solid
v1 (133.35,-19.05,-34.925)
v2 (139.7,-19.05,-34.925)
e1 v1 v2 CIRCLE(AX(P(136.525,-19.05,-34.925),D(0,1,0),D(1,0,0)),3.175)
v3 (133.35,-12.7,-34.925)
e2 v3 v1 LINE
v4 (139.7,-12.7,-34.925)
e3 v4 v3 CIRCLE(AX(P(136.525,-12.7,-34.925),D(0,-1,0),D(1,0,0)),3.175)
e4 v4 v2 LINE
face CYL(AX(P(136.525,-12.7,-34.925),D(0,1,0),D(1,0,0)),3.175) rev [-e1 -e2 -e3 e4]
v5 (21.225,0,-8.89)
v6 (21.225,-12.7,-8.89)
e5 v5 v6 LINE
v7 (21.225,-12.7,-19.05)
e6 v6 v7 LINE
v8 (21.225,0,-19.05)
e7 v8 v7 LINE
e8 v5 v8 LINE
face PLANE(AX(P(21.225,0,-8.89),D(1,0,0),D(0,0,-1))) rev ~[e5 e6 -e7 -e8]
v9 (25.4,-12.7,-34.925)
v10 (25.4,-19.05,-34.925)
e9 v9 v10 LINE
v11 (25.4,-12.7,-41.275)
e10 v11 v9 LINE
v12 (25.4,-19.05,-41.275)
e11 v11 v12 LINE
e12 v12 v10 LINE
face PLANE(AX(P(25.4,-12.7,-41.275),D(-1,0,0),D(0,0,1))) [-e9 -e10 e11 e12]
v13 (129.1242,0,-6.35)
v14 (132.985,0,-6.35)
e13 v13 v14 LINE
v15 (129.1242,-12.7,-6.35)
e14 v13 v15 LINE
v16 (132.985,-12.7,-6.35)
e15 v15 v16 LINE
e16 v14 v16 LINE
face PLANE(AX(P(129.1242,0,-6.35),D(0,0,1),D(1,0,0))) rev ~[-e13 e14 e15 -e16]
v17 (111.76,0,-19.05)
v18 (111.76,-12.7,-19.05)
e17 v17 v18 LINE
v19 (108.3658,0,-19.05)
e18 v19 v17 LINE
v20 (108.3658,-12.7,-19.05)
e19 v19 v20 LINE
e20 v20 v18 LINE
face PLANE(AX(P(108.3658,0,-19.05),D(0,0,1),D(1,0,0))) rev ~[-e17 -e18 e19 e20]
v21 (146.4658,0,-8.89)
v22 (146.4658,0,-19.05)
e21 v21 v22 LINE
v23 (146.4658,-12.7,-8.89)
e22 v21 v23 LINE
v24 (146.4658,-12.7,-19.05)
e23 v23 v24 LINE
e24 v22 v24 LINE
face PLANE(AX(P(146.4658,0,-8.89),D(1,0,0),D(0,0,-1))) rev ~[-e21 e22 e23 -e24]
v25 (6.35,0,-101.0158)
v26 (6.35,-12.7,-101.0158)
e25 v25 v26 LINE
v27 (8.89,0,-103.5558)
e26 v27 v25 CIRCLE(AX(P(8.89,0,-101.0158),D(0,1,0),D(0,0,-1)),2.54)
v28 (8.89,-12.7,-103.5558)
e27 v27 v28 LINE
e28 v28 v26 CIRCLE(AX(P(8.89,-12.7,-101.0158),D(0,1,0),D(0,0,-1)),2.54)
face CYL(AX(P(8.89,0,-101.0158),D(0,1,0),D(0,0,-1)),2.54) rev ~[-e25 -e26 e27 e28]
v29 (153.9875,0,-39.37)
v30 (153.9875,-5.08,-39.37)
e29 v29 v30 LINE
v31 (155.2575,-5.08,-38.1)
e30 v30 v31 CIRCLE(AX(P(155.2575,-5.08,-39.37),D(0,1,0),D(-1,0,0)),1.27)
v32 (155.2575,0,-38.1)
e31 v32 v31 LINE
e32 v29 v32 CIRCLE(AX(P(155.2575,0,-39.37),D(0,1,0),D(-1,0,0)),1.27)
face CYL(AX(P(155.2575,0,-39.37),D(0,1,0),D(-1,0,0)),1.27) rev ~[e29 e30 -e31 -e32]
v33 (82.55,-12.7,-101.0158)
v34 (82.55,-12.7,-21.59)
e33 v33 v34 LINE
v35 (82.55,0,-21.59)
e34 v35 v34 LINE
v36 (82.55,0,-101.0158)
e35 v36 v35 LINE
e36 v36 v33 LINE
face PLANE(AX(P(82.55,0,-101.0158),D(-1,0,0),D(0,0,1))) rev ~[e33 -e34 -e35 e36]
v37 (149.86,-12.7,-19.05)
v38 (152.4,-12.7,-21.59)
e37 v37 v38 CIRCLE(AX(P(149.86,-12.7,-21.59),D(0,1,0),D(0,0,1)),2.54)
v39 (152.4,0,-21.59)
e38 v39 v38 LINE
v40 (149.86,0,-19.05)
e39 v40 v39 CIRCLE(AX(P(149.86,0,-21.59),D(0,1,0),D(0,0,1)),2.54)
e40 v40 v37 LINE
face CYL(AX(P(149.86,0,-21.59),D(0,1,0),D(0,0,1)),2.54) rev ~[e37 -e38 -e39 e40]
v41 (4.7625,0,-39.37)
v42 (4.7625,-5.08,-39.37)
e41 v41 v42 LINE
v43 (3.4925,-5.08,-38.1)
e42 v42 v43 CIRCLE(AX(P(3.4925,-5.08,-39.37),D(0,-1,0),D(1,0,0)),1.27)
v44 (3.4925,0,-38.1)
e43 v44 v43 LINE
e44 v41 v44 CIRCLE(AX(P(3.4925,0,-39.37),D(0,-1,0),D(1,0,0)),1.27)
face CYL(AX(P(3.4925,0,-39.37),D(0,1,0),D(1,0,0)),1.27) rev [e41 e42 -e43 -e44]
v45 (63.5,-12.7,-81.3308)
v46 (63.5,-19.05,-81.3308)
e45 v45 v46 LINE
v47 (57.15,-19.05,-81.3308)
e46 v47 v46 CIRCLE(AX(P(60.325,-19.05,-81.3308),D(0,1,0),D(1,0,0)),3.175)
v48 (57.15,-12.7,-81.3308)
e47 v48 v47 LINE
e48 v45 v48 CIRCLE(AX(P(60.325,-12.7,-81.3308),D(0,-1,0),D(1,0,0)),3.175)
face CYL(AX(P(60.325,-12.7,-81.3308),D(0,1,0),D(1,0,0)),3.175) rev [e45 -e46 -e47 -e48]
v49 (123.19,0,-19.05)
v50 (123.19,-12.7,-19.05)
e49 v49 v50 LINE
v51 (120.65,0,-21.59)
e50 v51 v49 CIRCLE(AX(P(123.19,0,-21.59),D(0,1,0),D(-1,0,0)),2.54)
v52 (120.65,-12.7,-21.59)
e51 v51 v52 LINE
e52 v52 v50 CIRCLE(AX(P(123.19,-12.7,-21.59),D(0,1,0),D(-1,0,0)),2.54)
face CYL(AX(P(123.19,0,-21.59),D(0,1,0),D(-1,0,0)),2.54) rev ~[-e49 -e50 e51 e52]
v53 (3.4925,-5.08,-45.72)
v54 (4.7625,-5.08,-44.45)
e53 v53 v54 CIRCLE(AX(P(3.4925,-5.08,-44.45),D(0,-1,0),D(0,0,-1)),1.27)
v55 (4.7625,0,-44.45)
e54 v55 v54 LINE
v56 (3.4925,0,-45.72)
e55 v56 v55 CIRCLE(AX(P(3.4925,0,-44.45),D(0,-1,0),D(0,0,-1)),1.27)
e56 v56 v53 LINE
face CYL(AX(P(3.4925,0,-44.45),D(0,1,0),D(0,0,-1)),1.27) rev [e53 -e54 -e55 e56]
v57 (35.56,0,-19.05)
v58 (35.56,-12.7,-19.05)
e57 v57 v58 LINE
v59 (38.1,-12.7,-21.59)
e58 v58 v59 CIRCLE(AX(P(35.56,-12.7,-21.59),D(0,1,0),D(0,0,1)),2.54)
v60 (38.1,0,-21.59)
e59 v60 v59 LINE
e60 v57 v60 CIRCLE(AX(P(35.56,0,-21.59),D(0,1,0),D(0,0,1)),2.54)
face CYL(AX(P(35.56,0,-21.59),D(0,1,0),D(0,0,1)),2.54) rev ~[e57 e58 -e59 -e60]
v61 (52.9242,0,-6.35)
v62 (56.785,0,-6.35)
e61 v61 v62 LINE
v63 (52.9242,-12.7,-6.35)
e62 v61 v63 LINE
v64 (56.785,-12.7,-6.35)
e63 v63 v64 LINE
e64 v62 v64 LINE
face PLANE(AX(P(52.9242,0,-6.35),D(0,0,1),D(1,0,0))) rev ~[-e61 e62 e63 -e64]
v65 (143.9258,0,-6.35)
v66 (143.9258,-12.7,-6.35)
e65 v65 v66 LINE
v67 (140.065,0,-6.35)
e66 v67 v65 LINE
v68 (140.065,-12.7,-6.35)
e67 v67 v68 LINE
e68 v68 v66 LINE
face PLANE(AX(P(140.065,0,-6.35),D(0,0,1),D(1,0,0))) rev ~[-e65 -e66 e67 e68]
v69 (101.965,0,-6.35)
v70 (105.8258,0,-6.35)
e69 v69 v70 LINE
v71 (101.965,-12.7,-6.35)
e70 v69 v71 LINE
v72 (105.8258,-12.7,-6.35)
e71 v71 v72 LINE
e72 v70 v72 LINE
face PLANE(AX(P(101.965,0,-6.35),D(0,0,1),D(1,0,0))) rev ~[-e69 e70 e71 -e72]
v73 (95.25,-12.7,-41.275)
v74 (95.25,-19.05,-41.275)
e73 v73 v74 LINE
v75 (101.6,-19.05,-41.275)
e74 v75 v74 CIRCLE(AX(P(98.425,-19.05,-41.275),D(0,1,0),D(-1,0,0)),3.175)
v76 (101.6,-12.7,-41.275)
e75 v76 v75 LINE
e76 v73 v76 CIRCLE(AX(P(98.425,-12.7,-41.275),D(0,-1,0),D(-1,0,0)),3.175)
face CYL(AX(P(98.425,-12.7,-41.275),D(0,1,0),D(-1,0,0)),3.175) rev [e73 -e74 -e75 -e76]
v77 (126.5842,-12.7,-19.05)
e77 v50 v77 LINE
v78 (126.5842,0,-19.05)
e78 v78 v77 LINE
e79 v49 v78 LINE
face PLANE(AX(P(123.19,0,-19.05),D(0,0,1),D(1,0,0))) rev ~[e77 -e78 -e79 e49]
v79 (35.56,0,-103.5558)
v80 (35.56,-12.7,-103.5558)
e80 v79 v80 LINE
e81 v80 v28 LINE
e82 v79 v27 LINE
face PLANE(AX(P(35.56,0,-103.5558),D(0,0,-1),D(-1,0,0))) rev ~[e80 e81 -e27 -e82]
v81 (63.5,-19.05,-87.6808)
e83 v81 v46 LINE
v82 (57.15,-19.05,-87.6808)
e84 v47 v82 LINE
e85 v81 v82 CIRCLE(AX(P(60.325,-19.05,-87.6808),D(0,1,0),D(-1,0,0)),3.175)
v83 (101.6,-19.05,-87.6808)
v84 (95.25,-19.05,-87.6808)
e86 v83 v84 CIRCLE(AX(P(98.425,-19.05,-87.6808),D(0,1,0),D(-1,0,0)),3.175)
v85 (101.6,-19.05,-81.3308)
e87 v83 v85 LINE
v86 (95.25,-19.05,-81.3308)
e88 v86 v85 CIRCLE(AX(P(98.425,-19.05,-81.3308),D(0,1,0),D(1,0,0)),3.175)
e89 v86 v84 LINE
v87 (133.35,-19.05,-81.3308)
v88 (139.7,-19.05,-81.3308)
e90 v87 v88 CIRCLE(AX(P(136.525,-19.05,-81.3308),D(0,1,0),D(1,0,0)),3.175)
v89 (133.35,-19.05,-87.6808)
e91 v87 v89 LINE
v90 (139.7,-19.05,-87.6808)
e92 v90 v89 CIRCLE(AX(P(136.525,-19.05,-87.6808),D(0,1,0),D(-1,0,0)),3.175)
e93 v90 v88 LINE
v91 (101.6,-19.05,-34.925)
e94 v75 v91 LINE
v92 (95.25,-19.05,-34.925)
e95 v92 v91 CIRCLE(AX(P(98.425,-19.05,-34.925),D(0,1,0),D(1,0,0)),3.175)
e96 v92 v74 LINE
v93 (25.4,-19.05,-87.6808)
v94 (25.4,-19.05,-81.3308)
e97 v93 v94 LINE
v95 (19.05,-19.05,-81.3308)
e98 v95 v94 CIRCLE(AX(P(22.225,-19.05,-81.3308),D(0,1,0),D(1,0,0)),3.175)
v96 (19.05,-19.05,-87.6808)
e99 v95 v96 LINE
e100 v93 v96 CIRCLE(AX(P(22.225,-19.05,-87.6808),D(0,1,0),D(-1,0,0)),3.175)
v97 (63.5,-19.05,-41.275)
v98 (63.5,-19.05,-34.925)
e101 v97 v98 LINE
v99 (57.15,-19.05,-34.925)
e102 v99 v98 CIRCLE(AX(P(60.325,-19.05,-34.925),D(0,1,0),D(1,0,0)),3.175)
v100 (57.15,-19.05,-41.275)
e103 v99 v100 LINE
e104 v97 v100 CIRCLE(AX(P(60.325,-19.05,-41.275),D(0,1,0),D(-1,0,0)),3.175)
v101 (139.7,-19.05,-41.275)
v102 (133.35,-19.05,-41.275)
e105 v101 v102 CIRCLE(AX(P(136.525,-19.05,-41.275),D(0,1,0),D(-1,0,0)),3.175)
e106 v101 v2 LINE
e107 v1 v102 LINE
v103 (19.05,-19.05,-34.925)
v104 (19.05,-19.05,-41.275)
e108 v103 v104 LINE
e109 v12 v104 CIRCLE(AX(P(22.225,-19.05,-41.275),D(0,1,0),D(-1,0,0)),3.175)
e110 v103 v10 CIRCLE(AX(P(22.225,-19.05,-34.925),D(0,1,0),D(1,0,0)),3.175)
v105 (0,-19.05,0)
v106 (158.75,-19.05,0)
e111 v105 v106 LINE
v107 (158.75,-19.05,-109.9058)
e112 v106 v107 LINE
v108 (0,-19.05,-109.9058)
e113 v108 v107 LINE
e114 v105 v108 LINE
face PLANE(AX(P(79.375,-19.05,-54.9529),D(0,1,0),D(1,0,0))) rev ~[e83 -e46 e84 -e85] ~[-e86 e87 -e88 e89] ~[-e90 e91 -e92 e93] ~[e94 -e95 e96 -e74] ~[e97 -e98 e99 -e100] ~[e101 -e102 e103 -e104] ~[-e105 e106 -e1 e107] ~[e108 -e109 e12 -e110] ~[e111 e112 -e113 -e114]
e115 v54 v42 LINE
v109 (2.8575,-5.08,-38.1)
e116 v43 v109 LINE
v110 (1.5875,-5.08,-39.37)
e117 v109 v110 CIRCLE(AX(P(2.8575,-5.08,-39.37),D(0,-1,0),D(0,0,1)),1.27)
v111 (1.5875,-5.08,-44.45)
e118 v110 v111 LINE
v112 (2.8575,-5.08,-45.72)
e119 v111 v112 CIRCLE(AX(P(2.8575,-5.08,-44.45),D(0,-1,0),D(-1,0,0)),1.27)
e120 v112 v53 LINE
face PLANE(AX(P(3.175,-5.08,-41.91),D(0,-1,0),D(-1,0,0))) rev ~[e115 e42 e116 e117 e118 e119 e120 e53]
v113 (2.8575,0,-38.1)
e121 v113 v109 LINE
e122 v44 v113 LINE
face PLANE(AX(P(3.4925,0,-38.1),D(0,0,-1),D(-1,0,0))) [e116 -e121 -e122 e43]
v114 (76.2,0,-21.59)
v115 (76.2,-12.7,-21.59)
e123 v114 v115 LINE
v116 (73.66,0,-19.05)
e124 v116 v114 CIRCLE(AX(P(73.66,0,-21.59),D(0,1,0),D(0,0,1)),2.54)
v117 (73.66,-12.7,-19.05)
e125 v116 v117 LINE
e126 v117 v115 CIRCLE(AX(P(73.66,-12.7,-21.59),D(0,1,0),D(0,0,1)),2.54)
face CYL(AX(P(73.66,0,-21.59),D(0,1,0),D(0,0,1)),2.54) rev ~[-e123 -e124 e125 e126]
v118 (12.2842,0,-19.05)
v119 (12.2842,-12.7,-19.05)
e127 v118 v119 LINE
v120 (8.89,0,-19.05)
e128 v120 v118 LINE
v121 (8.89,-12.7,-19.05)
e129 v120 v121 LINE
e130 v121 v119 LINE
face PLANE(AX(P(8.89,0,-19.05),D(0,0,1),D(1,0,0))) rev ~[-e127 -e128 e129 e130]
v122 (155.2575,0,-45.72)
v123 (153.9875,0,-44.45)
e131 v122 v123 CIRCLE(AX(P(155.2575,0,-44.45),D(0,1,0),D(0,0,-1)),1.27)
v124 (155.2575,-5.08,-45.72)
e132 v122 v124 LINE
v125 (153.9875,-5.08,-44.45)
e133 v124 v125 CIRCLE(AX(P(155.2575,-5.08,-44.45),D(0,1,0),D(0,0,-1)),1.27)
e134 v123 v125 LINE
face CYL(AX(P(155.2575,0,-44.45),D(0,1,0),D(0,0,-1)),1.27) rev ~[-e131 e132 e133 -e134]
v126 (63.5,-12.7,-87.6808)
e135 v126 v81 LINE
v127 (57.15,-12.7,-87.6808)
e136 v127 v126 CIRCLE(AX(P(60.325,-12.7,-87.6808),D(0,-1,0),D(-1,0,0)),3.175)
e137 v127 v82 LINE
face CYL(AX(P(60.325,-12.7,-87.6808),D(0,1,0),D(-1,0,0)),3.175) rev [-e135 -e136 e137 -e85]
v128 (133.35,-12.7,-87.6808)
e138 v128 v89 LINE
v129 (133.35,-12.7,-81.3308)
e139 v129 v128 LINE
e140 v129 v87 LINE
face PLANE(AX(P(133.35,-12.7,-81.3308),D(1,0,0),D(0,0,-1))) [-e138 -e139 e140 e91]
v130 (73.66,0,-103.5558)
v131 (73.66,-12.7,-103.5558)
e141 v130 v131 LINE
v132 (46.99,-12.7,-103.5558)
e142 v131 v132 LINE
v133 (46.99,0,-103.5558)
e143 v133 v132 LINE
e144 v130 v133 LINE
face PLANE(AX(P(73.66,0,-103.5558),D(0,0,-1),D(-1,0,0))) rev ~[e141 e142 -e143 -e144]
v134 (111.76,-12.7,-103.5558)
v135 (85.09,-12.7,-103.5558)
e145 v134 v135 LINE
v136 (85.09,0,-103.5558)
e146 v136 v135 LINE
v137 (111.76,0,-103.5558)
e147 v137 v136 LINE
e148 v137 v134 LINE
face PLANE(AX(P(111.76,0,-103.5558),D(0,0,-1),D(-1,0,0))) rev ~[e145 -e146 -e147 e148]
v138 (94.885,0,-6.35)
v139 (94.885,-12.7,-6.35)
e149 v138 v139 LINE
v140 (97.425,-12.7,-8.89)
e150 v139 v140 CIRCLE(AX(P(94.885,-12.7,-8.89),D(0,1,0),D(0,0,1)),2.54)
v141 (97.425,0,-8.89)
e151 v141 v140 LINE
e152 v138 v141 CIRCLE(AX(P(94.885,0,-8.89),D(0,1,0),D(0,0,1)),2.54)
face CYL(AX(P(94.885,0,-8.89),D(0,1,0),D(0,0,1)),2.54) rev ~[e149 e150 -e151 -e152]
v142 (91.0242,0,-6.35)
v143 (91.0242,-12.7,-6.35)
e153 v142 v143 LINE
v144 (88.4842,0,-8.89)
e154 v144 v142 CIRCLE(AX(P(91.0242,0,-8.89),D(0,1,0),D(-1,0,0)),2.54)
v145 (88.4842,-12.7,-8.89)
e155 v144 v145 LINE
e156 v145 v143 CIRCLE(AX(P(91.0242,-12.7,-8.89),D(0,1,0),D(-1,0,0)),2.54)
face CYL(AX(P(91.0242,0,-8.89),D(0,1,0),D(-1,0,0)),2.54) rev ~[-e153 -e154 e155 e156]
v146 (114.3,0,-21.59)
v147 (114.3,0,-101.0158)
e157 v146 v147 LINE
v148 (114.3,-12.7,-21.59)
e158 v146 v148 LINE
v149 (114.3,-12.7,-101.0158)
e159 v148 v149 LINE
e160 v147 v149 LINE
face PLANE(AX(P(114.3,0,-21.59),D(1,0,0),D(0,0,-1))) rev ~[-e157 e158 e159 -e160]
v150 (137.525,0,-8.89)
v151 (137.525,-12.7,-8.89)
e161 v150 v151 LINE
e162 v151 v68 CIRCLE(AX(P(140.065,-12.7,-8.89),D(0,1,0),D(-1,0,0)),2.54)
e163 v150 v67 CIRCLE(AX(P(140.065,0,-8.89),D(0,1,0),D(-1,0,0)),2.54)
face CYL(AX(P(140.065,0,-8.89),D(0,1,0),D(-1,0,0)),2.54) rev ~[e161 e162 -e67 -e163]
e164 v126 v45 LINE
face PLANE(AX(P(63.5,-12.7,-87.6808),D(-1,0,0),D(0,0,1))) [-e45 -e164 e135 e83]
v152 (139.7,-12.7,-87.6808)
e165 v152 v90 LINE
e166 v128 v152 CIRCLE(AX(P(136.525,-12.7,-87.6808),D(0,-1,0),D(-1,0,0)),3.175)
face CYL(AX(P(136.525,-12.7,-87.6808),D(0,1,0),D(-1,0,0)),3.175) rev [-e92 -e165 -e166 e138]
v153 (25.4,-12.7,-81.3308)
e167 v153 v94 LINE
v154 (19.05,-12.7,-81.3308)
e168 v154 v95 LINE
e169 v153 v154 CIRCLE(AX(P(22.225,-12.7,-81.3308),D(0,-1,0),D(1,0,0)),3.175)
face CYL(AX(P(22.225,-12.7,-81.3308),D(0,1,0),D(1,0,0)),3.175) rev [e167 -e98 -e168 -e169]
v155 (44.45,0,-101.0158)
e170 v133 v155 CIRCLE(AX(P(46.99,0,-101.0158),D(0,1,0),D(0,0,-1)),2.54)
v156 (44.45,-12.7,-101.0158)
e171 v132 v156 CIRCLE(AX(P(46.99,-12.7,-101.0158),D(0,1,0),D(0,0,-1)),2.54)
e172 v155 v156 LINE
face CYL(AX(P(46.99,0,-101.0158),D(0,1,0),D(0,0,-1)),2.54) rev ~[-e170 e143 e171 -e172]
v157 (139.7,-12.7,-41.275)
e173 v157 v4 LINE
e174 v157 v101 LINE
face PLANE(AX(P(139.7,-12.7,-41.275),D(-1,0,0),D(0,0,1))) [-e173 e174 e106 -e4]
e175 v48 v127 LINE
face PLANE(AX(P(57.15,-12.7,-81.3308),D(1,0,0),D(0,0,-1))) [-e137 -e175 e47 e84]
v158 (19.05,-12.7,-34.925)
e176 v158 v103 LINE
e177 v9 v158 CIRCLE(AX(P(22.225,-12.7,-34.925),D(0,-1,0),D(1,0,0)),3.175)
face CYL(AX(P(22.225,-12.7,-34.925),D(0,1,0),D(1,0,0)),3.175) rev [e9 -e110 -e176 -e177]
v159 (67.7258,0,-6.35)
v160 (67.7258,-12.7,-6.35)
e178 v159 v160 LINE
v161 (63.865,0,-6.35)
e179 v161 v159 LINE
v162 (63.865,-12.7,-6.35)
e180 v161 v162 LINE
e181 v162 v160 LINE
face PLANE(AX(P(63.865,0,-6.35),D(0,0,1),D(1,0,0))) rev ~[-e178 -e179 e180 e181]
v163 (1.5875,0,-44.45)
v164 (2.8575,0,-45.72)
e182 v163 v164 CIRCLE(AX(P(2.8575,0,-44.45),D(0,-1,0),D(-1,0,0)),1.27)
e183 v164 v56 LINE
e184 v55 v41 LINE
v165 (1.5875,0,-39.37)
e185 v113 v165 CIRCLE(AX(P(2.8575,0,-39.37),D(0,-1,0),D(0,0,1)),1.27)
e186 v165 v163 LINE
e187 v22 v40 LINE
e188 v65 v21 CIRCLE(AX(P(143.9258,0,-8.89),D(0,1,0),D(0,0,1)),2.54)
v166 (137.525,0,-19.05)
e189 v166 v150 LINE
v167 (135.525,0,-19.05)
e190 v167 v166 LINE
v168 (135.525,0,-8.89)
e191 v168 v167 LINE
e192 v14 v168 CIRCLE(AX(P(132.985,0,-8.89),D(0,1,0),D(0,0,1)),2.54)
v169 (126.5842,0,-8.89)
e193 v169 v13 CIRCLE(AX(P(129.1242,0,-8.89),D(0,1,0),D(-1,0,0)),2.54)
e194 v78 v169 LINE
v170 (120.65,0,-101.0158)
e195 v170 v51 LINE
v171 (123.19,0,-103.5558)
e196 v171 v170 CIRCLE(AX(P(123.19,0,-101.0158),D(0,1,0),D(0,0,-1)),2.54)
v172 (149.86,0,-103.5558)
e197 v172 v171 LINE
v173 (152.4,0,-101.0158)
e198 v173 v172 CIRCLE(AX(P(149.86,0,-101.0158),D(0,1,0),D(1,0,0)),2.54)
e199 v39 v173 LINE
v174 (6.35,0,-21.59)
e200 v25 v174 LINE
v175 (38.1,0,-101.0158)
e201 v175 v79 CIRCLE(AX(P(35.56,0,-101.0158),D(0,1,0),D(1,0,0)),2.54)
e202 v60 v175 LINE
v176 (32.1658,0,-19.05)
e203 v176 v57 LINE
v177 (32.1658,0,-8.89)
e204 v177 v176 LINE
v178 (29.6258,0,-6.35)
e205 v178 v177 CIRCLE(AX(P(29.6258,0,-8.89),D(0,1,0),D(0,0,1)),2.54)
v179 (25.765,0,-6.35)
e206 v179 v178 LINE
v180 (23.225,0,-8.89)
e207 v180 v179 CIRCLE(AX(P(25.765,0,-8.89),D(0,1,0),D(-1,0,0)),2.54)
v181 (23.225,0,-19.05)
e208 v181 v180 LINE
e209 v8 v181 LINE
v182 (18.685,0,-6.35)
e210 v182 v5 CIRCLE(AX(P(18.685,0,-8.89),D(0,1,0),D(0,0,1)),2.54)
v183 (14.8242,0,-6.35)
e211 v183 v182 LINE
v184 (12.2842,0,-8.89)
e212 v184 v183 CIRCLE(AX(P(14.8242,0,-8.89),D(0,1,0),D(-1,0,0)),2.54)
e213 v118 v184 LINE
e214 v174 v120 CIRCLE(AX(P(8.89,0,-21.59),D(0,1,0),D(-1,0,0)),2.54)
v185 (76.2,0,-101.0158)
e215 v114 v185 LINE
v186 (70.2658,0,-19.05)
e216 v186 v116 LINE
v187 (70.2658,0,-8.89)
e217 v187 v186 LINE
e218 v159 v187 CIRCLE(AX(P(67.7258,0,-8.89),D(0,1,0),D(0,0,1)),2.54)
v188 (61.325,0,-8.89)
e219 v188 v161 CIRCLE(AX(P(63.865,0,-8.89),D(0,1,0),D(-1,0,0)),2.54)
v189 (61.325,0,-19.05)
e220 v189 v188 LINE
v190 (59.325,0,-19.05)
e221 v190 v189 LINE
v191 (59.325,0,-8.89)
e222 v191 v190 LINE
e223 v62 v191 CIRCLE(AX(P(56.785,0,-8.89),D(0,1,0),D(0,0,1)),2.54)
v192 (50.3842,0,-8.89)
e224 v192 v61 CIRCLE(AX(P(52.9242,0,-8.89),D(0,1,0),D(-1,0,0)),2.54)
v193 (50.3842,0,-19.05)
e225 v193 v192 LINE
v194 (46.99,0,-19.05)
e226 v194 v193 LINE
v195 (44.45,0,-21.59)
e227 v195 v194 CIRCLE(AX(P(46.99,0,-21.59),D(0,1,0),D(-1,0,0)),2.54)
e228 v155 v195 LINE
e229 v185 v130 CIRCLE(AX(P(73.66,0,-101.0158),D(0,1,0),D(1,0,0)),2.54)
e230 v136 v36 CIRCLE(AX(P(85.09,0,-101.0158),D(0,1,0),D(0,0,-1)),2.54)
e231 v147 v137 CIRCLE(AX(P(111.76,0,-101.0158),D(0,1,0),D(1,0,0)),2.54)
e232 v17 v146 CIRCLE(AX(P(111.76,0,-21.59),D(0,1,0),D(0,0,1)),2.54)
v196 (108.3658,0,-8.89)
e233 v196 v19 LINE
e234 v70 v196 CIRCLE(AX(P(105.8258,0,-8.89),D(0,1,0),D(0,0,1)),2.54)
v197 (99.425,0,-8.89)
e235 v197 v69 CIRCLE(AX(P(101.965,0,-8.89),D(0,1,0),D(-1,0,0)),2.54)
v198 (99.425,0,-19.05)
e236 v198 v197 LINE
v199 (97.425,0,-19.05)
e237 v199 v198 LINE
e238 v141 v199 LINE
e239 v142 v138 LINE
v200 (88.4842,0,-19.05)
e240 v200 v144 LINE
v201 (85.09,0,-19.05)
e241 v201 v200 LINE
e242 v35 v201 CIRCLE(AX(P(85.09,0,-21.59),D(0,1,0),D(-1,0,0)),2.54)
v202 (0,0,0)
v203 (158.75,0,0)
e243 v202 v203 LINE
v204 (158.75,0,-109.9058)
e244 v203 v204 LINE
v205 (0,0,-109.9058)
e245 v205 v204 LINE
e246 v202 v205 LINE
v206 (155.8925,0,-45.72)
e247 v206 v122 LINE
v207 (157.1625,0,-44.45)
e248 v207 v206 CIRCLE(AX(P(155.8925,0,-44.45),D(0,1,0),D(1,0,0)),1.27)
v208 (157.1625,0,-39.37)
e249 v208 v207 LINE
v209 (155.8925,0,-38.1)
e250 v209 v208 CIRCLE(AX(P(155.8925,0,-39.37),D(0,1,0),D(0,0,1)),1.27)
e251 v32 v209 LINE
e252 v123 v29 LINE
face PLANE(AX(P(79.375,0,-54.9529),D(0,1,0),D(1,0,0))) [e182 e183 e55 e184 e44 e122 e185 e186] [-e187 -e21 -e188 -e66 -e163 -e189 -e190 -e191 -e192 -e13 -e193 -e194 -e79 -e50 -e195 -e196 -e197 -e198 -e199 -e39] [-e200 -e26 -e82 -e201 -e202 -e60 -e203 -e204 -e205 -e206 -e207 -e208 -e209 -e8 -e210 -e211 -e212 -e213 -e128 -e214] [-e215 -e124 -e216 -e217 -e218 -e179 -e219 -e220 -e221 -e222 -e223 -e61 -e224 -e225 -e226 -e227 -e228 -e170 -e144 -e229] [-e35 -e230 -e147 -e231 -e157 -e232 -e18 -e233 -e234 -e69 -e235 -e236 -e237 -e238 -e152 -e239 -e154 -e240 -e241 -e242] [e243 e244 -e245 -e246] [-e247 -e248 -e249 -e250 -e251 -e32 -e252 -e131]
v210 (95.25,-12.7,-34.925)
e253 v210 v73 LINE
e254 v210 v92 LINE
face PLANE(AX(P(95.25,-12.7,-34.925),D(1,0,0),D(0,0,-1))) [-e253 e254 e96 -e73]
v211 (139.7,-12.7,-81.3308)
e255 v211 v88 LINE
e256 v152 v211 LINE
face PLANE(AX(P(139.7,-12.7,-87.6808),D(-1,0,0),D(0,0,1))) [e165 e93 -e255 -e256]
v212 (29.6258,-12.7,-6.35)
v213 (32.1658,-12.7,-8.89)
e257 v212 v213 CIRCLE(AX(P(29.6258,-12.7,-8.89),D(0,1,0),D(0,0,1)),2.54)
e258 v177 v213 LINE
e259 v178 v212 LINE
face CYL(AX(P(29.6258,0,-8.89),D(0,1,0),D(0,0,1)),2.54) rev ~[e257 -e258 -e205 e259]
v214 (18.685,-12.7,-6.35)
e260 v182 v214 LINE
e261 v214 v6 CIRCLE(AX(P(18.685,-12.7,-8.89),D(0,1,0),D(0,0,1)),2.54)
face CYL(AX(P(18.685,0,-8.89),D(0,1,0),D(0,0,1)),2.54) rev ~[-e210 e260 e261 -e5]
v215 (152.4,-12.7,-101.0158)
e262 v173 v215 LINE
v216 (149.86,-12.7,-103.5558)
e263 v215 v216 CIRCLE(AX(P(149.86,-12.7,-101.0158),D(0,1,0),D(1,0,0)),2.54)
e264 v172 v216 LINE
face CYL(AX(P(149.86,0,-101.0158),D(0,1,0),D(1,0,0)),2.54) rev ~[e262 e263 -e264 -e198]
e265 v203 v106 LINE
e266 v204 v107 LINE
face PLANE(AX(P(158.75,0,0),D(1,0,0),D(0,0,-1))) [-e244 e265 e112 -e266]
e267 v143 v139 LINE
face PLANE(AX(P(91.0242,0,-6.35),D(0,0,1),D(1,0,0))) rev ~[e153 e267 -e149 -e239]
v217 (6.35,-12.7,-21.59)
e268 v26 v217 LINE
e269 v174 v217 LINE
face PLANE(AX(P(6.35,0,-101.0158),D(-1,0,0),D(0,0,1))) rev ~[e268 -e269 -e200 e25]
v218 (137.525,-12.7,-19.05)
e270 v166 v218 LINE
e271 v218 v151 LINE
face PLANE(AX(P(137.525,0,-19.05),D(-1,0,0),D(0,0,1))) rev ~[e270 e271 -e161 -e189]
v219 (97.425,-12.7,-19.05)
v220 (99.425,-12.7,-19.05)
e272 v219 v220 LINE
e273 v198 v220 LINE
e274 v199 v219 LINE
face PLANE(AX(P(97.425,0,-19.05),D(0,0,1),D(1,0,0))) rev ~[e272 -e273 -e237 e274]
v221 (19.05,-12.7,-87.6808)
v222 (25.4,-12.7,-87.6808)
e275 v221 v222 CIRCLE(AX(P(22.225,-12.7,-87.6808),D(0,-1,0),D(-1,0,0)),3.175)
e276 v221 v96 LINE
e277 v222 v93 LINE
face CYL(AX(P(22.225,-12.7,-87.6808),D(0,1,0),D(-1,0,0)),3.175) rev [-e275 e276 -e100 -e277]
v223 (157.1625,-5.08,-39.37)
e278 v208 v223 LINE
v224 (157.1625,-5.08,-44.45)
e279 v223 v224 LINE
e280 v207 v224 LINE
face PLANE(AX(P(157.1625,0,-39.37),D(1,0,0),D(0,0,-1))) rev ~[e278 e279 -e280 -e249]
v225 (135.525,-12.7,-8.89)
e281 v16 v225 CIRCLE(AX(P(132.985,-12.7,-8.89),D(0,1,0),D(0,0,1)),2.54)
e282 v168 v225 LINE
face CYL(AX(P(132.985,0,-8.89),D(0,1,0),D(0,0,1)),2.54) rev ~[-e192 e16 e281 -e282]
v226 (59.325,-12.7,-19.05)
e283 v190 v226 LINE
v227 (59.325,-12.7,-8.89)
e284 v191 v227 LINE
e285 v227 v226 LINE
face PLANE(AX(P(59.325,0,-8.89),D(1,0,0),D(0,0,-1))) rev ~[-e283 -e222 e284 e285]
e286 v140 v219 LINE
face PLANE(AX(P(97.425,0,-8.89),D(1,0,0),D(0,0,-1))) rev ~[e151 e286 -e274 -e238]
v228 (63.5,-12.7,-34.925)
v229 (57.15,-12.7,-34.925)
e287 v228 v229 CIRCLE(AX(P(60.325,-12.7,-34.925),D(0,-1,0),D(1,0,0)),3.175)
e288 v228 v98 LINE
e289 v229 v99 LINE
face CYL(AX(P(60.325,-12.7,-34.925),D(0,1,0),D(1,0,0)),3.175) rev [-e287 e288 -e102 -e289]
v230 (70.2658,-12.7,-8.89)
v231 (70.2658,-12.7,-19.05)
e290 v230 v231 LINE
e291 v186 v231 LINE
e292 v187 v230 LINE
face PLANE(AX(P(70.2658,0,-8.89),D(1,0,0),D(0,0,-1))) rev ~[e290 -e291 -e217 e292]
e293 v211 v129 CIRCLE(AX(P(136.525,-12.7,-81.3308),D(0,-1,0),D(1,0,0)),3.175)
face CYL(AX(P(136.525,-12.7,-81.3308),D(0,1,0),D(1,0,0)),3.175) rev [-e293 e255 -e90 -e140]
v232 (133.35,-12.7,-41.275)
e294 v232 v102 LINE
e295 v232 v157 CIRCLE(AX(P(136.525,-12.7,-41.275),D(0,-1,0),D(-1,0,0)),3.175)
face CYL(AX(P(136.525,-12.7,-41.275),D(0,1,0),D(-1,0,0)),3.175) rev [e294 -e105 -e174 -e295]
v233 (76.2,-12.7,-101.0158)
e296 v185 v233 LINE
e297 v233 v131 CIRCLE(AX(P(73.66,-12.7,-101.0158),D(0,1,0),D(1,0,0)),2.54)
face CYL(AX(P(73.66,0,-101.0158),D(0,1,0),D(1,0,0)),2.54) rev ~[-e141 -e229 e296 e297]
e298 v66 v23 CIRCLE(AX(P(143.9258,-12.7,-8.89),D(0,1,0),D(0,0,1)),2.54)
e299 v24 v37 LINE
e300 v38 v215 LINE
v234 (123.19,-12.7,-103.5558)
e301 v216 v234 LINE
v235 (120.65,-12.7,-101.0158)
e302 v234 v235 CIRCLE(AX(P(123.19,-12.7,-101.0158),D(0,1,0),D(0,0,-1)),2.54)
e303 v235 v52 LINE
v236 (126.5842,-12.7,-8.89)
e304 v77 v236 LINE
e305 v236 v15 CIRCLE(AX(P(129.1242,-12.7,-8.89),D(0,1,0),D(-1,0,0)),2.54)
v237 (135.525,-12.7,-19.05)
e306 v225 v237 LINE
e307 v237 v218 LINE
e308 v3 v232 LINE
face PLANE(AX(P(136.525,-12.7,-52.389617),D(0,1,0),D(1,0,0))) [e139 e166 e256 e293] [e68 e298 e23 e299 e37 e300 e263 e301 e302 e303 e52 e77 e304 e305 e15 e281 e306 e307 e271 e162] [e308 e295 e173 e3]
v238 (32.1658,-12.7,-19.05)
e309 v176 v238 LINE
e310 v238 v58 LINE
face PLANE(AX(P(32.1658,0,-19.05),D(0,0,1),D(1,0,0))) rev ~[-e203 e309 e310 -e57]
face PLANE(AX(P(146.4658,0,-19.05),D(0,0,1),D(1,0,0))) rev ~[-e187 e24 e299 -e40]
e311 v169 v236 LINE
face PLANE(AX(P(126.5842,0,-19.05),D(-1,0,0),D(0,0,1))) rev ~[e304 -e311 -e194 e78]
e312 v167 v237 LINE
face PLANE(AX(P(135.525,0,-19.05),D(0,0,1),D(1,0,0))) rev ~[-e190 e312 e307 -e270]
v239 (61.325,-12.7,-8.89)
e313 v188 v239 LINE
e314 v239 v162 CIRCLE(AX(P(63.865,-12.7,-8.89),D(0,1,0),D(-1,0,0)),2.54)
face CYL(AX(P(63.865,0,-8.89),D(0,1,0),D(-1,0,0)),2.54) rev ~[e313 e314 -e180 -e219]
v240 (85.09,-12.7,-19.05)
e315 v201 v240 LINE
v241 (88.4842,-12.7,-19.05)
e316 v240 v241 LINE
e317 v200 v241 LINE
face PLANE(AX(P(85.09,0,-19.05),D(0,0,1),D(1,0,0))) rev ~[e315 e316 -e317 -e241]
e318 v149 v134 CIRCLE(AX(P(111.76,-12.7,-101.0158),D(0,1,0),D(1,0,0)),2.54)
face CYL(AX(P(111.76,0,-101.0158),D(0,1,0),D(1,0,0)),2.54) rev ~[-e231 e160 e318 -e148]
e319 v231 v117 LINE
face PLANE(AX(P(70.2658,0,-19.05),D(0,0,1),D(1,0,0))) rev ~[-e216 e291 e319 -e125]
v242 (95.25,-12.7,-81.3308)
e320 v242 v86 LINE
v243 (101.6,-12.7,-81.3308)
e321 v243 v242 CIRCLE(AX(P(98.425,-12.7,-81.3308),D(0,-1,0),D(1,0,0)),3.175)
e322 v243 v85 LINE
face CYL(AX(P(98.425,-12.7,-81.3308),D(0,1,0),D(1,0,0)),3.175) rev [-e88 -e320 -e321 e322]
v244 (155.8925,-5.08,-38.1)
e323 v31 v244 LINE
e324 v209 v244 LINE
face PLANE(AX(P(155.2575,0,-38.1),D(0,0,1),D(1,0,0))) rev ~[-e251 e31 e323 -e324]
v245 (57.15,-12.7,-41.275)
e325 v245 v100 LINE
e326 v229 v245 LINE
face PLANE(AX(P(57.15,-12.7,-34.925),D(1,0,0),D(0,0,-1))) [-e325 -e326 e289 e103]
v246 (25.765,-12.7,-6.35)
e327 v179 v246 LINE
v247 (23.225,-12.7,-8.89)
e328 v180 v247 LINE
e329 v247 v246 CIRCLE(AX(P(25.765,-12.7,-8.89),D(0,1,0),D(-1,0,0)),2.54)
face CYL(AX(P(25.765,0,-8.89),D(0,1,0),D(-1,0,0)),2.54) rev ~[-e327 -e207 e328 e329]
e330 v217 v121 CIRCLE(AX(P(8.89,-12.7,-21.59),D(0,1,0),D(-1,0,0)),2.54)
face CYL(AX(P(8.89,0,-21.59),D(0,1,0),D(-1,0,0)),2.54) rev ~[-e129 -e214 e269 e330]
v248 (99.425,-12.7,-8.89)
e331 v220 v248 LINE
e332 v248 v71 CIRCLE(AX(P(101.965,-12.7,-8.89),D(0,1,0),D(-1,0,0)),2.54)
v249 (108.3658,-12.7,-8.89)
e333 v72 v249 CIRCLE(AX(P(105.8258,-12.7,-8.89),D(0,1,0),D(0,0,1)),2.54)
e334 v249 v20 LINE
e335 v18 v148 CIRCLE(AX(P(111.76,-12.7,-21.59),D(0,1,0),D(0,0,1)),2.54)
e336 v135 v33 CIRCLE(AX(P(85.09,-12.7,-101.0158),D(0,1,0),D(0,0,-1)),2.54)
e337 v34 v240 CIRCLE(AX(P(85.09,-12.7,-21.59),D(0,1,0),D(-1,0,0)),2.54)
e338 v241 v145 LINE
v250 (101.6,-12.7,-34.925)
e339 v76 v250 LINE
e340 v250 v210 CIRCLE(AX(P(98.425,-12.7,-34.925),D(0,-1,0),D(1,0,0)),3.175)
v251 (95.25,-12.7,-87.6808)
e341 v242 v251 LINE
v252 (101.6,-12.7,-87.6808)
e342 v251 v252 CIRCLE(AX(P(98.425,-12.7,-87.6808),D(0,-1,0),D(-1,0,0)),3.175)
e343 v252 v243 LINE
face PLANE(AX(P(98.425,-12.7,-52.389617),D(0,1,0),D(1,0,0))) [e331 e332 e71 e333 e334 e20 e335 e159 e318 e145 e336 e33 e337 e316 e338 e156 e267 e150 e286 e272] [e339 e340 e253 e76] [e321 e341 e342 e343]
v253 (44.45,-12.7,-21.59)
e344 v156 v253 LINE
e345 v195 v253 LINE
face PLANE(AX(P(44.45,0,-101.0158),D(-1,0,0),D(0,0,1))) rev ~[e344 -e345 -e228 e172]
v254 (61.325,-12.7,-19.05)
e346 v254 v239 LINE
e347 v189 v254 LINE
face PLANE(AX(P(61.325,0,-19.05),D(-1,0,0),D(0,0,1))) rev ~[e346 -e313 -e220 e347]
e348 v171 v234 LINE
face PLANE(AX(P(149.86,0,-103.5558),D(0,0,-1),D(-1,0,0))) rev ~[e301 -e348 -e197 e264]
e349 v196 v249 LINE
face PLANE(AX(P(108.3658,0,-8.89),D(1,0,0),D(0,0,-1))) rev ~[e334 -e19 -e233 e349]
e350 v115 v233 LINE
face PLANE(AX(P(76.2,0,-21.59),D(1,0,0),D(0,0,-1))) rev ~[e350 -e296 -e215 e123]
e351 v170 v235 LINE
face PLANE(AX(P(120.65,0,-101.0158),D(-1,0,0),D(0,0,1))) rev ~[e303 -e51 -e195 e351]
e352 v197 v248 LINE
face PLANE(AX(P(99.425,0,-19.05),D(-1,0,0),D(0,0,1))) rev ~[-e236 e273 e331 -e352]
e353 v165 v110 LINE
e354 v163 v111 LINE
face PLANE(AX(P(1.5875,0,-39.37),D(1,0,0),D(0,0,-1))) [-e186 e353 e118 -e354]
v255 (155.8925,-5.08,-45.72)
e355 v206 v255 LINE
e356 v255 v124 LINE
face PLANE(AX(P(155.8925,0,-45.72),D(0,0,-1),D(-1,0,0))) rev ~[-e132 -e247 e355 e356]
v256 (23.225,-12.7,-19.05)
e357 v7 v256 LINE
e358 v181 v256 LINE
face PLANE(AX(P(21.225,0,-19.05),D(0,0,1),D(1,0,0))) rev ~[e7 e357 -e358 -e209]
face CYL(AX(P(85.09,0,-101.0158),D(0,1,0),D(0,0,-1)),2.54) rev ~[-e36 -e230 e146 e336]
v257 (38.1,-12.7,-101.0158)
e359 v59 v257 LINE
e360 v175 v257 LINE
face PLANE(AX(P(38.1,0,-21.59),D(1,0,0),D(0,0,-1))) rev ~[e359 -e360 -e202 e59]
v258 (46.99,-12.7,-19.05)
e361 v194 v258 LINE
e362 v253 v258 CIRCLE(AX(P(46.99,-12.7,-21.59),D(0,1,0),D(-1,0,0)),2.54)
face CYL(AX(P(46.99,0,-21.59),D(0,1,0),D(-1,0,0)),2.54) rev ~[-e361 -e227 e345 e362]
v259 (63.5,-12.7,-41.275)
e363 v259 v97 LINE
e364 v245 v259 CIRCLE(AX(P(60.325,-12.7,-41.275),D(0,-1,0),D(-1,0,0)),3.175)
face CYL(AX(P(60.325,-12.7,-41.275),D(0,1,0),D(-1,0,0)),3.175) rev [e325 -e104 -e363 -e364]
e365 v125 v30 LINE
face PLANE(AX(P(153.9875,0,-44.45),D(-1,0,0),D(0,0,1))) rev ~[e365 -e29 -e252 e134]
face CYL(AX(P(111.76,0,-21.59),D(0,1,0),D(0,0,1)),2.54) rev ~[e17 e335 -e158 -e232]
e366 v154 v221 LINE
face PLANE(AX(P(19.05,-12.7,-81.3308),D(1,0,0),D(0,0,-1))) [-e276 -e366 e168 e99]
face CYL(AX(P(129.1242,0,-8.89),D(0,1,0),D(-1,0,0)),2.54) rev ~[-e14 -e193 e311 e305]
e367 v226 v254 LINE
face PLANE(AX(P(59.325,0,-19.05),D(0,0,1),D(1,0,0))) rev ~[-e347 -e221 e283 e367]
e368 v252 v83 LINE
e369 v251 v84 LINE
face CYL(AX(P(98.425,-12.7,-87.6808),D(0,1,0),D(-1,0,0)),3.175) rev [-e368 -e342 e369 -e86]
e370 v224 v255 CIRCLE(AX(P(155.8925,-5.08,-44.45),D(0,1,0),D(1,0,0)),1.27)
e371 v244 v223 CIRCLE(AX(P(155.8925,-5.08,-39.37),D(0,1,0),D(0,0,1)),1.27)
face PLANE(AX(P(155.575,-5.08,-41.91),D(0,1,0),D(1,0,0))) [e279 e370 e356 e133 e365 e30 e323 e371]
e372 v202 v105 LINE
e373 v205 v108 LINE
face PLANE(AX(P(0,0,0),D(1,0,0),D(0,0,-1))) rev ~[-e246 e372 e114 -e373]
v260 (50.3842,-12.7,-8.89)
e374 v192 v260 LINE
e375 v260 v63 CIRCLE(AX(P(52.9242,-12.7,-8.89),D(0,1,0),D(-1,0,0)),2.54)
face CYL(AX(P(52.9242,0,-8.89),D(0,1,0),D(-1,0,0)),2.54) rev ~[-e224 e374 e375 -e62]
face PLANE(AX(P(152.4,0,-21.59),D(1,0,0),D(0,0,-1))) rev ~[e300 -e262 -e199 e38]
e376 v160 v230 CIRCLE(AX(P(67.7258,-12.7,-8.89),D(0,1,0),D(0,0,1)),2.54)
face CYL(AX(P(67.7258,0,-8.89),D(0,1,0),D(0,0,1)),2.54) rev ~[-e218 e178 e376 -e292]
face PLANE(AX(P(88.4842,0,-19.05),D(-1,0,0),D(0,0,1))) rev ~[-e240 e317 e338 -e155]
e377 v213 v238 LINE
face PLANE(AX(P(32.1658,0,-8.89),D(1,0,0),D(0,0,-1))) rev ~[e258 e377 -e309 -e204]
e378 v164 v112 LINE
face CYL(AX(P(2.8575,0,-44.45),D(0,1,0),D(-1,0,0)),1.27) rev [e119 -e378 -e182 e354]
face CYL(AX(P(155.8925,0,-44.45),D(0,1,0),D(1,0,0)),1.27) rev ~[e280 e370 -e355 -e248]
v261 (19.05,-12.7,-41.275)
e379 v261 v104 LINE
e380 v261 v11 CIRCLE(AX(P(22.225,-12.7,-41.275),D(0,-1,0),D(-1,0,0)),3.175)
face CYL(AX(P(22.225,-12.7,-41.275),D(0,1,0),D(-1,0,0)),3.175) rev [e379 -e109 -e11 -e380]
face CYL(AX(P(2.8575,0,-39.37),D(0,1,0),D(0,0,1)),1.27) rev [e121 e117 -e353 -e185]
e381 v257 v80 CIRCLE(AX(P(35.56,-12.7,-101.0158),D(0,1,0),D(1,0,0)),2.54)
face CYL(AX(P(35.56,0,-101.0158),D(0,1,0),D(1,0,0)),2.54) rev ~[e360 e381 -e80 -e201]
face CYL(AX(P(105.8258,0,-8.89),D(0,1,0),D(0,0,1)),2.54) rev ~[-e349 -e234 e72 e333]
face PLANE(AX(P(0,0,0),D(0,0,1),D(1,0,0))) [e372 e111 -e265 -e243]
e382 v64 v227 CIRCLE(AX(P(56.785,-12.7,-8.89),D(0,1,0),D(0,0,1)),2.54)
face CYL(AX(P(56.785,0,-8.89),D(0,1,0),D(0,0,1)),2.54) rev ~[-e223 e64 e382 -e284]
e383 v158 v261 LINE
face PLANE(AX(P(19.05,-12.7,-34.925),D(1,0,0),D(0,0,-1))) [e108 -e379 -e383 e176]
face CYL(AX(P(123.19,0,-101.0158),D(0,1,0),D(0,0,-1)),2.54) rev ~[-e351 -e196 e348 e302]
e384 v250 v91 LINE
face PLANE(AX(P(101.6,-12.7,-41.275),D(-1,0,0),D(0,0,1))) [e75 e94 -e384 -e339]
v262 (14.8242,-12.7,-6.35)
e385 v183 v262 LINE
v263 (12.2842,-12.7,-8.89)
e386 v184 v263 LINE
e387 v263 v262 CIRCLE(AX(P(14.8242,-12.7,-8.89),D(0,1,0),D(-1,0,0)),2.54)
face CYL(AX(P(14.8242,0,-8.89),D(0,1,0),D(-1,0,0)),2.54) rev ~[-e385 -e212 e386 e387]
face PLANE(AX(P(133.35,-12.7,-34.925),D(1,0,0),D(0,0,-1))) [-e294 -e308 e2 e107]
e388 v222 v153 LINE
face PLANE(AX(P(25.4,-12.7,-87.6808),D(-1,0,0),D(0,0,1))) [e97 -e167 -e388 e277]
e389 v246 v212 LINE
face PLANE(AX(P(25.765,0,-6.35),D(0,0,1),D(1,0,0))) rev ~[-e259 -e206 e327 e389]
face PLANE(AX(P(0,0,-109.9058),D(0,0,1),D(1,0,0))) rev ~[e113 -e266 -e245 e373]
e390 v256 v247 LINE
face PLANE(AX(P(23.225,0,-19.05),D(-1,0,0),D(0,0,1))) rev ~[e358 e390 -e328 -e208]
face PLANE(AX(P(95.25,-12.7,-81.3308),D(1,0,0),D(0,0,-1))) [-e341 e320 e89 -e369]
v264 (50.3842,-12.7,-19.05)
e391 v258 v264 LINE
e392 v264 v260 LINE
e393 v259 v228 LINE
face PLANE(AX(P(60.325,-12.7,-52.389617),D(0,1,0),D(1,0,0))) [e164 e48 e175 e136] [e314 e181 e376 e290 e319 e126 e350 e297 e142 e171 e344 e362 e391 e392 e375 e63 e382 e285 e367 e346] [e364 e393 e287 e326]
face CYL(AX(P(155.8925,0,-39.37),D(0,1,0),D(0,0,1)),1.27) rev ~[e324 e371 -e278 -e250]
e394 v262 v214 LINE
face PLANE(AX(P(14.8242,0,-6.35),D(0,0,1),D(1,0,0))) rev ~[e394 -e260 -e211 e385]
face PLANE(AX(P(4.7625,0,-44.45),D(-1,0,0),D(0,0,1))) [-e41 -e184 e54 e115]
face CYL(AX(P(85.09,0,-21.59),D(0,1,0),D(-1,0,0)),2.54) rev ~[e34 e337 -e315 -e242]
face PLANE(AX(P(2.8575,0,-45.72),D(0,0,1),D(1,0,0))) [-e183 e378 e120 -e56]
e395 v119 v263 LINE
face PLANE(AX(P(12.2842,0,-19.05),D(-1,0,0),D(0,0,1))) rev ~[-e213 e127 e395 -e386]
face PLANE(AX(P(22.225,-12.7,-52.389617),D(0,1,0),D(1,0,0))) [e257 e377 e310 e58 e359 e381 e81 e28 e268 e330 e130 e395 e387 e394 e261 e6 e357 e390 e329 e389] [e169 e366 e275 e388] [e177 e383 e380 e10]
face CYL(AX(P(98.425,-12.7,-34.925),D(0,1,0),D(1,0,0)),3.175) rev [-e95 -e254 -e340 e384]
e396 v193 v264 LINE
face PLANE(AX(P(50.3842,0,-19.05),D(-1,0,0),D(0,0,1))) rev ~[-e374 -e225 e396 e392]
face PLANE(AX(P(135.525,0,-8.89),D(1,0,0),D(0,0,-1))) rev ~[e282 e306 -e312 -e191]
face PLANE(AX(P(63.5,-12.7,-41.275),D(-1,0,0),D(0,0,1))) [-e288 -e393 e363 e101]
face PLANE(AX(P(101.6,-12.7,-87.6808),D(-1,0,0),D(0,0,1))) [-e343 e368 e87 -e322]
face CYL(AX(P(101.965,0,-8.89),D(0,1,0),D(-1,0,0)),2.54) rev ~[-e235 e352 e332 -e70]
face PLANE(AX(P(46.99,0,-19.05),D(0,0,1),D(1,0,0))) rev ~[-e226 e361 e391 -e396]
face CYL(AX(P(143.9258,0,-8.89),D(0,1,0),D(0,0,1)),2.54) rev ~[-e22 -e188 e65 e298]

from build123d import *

# Parameters (mm, degrees)
SKETCH3_W           = 158.75
SKETCH3_H           = 109.9058
BOSS_EXTRUDE4_DEPTH = 19.05
CUT_EXTRUDE7_DEPTH  = 12.7
CUT_EXTRUDE8_DEPTH  = 7.35
CUT_EXTRUDE9_DEPTH  = 5.08


with BuildPart() as part:
    # Sketch3 → Boss-Extrude4 (new body)
    with BuildSketch(Plane(origin=(0, 0, 0), x_dir=(1, 0, 0), z_dir=(0, 1, 0))):
        with Locations((79.375, 54.9529)):
            Rectangle(SKETCH3_W, SKETCH3_H)
    extrude(amount=-BOSS_EXTRUDE4_DEPTH)

    # Sketch3<12> → Cut-Extrude7 (cut)
    with BuildSketch(Plane(origin=(0, 0, 0), x_dir=(1, 0, 0), z_dir=(0, 1, 0))):
        with BuildLine():
            ThreePointArc((82.55, 21.59), (83.293948776, 19.793948776), (85.09, 19.05))
            Line((85.09, 19.05), (88.4842, 19.05))
            Line((88.4842, 19.05), (88.4842, 8.89))
            ThreePointArc((88.4842, 8.89), (89.228148776, 7.093948776), (91.0242, 6.35))
            Line((91.0242, 6.35), (94.885, 6.35))
            ThreePointArc((94.885, 6.35), (96.681051224, 7.093948776), (97.425, 8.89))
            Line((97.425, 8.89), (97.425, 19.05))
            Line((97.425, 19.05), (99.425, 19.05))
            Line((99.425, 19.05), (99.425, 8.89))
            ThreePointArc((99.425, 8.89), (100.168948776, 7.093948776), (101.965, 6.35))
            Line((101.965, 6.35), (105.8258, 6.35))
            ThreePointArc((105.8258, 6.35), (107.621851224, 7.093948776), (108.3658, 8.89))
            Line((108.3658, 8.89), (108.3658, 19.05))
            Line((108.3658, 19.05), (111.76, 19.05))
            ThreePointArc((111.76, 19.05), (113.556051224, 19.793948776), (114.3, 21.59))
            Line((114.3, 21.59), (114.3, 101.0158))
            ThreePointArc((114.3, 101.0158), (113.556051224, 102.811851224), (111.76, 103.5558))
            Line((111.76, 103.5558), (85.09, 103.5558))
            ThreePointArc((85.09, 103.5558), (83.293948776, 102.811851224), (82.55, 101.0158))
            Line((82.55, 101.0158), (82.55, 21.59))
        make_face()
        with BuildLine():
            Line((6.35, 101.0158), (6.35, 21.59))
            ThreePointArc((6.35, 21.59), (7.093948776, 19.793948776), (8.89, 19.05))
            Line((8.89, 19.05), (12.2842, 19.05))
            Line((12.2842, 19.05), (12.2842, 8.89))
            ThreePointArc((12.2842, 8.89), (13.028148776, 7.093948776), (14.8242, 6.35))
            Line((14.8242, 6.35), (18.685, 6.35))
            ThreePointArc((18.685, 6.35), (20.481051224, 7.093948776), (21.225, 8.89))
            Line((21.225, 8.89), (21.225, 19.05))
            Line((21.225, 19.05), (23.225, 19.05))
            Line((23.225, 19.05), (23.225, 8.89))
            ThreePointArc((23.225, 8.89), (23.968948776, 7.093948776), (25.765, 6.35))
            Line((25.765, 6.35), (29.6258, 6.35))
            ThreePointArc((29.6258, 6.35), (31.421851224, 7.093948776), (32.1658, 8.89))
            Line((32.1658, 8.89), (32.1658, 19.05))
            Line((32.1658, 19.05), (35.56, 19.05))
            ThreePointArc((35.56, 19.05), (37.356051224, 19.793948776), (38.1, 21.59))
            Line((38.1, 21.59), (38.1, 101.0158))
            ThreePointArc((38.1, 101.0158), (37.356051224, 102.811851224), (35.56, 103.5558))
            Line((35.56, 103.5558), (8.89, 103.5558))
            ThreePointArc((8.89, 103.5558), (7.093948776, 102.811851224), (6.35, 101.0158))
        make_face()
        with BuildLine():
            ThreePointArc((46.99, 103.5558), (45.193948776, 102.811851224), (44.45, 101.0158))
            Line((44.45, 101.0158), (44.45, 21.59))
            ThreePointArc((44.45, 21.59), (45.193948776, 19.793948776), (46.99, 19.05))
            Line((46.99, 19.05), (50.3842, 19.05))
            Line((50.3842, 19.05), (50.3842, 8.89))
            ThreePointArc((50.3842, 8.89), (51.128148776, 7.093948776), (52.9242, 6.35))
            Line((52.9242, 6.35), (56.785, 6.35))
            ThreePointArc((56.785, 6.35), (58.581051224, 7.093948776), (59.325, 8.89))
            Line((59.325, 8.89), (59.325, 19.05))
            Line((59.325, 19.05), (61.325, 19.05))
            Line((61.325, 19.05), (61.325, 8.89))
            ThreePointArc((61.325, 8.89), (62.068948776, 7.093948776), (63.865, 6.35))
            Line((63.865, 6.35), (67.7258, 6.35))
            ThreePointArc((67.7258, 6.35), (69.521851224, 7.093948776), (70.2658, 8.89))
            Line((70.2658, 8.89), (70.2658, 19.05))
            Line((70.2658, 19.05), (73.66, 19.05))
            ThreePointArc((73.66, 19.05), (75.456051224, 19.793948776), (76.2, 21.59))
            Line((76.2, 21.59), (76.2, 101.0158))
            ThreePointArc((76.2, 101.0158), (75.456051224, 102.811851224), (73.66, 103.5558))
            Line((73.66, 103.5558), (46.99, 103.5558))
        make_face()
        with BuildLine():
            ThreePointArc((120.65, 21.59), (121.393948776, 19.793948776), (123.19, 19.05))
            Line((123.19, 19.05), (126.5842, 19.05))
            Line((126.5842, 19.05), (126.5842, 8.89))
            ThreePointArc((126.5842, 8.89), (127.328148776, 7.093948776), (129.1242, 6.35))
            Line((129.1242, 6.35), (132.985, 6.35))
            ThreePointArc((132.985, 6.35), (134.781051224, 7.093948776), (135.525, 8.89))
            Line((135.525, 8.89), (135.525, 19.05))
            Line((135.525, 19.05), (137.525, 19.05))
            Line((137.525, 19.05), (137.525, 8.89))
            ThreePointArc((137.525, 8.89), (138.268948776, 7.093948776), (140.065, 6.35))
            Line((140.065, 6.35), (143.9258, 6.35))
            ThreePointArc((143.9258, 6.35), (145.721851224, 7.093948776), (146.4658, 8.89))
            Line((146.4658, 8.89), (146.4658, 19.05))
            Line((146.4658, 19.05), (149.86, 19.05))
            ThreePointArc((149.86, 19.05), (151.656051224, 19.793948776), (152.4, 21.59))
            Line((152.4, 21.59), (152.4, 101.0158))
            ThreePointArc((152.4, 101.0158), (151.656051224, 102.811851224), (149.86, 103.5558))
            Line((149.86, 103.5558), (123.19, 103.5558))
            ThreePointArc((123.19, 103.5558), (121.393948776, 102.811851224), (120.65, 101.0158))
            Line((120.65, 101.0158), (120.65, 21.59))
        make_face()
    extrude(amount=-CUT_EXTRUDE7_DEPTH, mode=Mode.SUBTRACT)

    # Sketch5 → Cut-Extrude8 (cut, through all)
    with BuildSketch(Plane(origin=(0, -12.7, 0), x_dir=(1, 0, 0), z_dir=(0, 1, 0))):
        with BuildLine():
            Line((25.4, 87.6808), (25.4, 81.3308))
            ThreePointArc((25.4, 81.3308), (22.225, 78.1558), (19.05, 81.3308))
            Line((19.05, 81.3308), (19.05, 87.6808))
            ThreePointArc((19.05, 87.6808), (22.225, 90.8558), (25.4, 87.6808))
        make_face()
        with BuildLine():
            Line((25.4, 41.275), (25.4, 34.925))
            ThreePointArc((25.4, 34.925), (22.225, 31.75), (19.05, 34.925))
            Line((19.05, 34.925), (19.05, 41.275))
            ThreePointArc((19.05, 41.275), (22.225, 44.45), (25.4, 41.275))
        make_face()
        with BuildLine():
            Line((57.15, 34.925), (57.15, 41.275))
            ThreePointArc((57.15, 41.275), (60.325, 44.45), (63.5, 41.275))
            Line((63.5, 41.275), (63.5, 34.925))
            ThreePointArc((63.5, 34.925), (60.325, 31.75), (57.15, 34.925))
        make_face()
        with BuildLine():
            Line((57.15, 81.3308), (57.15, 87.6808))
            ThreePointArc((57.15, 87.6808), (60.325, 90.8558), (63.5, 87.6808))
            Line((63.5, 87.6808), (63.5, 81.3308))
            ThreePointArc((63.5, 81.3308), (60.325, 78.1558), (57.15, 81.3308))
        make_face()
        with BuildLine():
            Line((101.6, 87.6808), (101.6, 81.3308))
            ThreePointArc((101.6, 81.3308), (98.425, 78.1558), (95.25, 81.3308))
            Line((95.25, 81.3308), (95.25, 87.6808))
            ThreePointArc((95.25, 87.6808), (98.425, 90.8558), (101.6, 87.6808))
        make_face()
        with BuildLine():
            Line((101.6, 41.275), (101.6, 34.925))
            ThreePointArc((101.6, 34.925), (98.425, 31.75), (95.25, 34.925))
            Line((95.25, 34.925), (95.25, 41.275))
            ThreePointArc((95.25, 41.275), (98.425, 44.45), (101.6, 41.275))
        make_face()
        with BuildLine():
            Line((139.7, 41.275), (139.7, 34.925))
            ThreePointArc((139.7, 34.925), (136.525, 31.75), (133.35, 34.925))
            Line((133.35, 34.925), (133.35, 41.275))
            ThreePointArc((133.35, 41.275), (136.525, 44.45), (139.7, 41.275))
        make_face()
        with BuildLine():
            Line((139.7, 87.6808), (139.7, 81.3308))
            ThreePointArc((139.7, 81.3308), (136.525, 78.1558), (133.35, 81.3308))
            Line((133.35, 81.3308), (133.35, 87.6808))
            ThreePointArc((133.35, 87.6808), (136.525, 90.8558), (139.7, 87.6808))
        make_face()
    extrude(amount=-CUT_EXTRUDE8_DEPTH, mode=Mode.SUBTRACT)

    # Sketch7 → Cut-Extrude9 (cut)
    with BuildSketch(Plane(origin=(0, 0, 0), x_dir=(1, 0, 0), z_dir=(0, 1, 0))):
        with BuildLine():
            Line((2.8575, 45.72), (3.4925, 45.72))
            ThreePointArc((3.4925, 45.72), (4.390525612, 45.348025612), (4.7625, 44.45))
            Line((4.7625, 44.45), (4.7625, 39.37))
            ThreePointArc((4.7625, 39.37), (4.390525612, 38.471974388), (3.4925, 38.1))
            Line((3.4925, 38.1), (2.8575, 38.1))
            ThreePointArc((2.8575, 38.1), (1.959474388, 38.471974388), (1.5875, 39.37))
            Line((1.5875, 39.37), (1.5875, 44.45))
            ThreePointArc((1.5875, 44.45), (1.959474388, 45.348025612), (2.8575, 45.72))
        make_face()
        with BuildLine():
            Line((153.9875, 44.45), (153.9875, 39.37))
            ThreePointArc((153.9875, 39.37), (154.359474388, 38.471974388), (155.2575, 38.1))
            Line((155.2575, 38.1), (155.8925, 38.1))
            ThreePointArc((155.8925, 38.1), (156.790525612, 38.471974388), (157.1625, 39.37))
            Line((157.1625, 39.37), (157.1625, 44.45))
            ThreePointArc((157.1625, 44.45), (156.790525612, 45.348025612), (155.8925, 45.72))
            Line((155.8925, 45.72), (155.2575, 45.72))
            ThreePointArc((155.2575, 45.72), (154.359474388, 45.348025612), (153.9875, 44.45))
        make_face()
    extrude(amount=-CUT_EXTRUDE9_DEPTH, mode=Mode.SUBTRACT)


solid = part.part
